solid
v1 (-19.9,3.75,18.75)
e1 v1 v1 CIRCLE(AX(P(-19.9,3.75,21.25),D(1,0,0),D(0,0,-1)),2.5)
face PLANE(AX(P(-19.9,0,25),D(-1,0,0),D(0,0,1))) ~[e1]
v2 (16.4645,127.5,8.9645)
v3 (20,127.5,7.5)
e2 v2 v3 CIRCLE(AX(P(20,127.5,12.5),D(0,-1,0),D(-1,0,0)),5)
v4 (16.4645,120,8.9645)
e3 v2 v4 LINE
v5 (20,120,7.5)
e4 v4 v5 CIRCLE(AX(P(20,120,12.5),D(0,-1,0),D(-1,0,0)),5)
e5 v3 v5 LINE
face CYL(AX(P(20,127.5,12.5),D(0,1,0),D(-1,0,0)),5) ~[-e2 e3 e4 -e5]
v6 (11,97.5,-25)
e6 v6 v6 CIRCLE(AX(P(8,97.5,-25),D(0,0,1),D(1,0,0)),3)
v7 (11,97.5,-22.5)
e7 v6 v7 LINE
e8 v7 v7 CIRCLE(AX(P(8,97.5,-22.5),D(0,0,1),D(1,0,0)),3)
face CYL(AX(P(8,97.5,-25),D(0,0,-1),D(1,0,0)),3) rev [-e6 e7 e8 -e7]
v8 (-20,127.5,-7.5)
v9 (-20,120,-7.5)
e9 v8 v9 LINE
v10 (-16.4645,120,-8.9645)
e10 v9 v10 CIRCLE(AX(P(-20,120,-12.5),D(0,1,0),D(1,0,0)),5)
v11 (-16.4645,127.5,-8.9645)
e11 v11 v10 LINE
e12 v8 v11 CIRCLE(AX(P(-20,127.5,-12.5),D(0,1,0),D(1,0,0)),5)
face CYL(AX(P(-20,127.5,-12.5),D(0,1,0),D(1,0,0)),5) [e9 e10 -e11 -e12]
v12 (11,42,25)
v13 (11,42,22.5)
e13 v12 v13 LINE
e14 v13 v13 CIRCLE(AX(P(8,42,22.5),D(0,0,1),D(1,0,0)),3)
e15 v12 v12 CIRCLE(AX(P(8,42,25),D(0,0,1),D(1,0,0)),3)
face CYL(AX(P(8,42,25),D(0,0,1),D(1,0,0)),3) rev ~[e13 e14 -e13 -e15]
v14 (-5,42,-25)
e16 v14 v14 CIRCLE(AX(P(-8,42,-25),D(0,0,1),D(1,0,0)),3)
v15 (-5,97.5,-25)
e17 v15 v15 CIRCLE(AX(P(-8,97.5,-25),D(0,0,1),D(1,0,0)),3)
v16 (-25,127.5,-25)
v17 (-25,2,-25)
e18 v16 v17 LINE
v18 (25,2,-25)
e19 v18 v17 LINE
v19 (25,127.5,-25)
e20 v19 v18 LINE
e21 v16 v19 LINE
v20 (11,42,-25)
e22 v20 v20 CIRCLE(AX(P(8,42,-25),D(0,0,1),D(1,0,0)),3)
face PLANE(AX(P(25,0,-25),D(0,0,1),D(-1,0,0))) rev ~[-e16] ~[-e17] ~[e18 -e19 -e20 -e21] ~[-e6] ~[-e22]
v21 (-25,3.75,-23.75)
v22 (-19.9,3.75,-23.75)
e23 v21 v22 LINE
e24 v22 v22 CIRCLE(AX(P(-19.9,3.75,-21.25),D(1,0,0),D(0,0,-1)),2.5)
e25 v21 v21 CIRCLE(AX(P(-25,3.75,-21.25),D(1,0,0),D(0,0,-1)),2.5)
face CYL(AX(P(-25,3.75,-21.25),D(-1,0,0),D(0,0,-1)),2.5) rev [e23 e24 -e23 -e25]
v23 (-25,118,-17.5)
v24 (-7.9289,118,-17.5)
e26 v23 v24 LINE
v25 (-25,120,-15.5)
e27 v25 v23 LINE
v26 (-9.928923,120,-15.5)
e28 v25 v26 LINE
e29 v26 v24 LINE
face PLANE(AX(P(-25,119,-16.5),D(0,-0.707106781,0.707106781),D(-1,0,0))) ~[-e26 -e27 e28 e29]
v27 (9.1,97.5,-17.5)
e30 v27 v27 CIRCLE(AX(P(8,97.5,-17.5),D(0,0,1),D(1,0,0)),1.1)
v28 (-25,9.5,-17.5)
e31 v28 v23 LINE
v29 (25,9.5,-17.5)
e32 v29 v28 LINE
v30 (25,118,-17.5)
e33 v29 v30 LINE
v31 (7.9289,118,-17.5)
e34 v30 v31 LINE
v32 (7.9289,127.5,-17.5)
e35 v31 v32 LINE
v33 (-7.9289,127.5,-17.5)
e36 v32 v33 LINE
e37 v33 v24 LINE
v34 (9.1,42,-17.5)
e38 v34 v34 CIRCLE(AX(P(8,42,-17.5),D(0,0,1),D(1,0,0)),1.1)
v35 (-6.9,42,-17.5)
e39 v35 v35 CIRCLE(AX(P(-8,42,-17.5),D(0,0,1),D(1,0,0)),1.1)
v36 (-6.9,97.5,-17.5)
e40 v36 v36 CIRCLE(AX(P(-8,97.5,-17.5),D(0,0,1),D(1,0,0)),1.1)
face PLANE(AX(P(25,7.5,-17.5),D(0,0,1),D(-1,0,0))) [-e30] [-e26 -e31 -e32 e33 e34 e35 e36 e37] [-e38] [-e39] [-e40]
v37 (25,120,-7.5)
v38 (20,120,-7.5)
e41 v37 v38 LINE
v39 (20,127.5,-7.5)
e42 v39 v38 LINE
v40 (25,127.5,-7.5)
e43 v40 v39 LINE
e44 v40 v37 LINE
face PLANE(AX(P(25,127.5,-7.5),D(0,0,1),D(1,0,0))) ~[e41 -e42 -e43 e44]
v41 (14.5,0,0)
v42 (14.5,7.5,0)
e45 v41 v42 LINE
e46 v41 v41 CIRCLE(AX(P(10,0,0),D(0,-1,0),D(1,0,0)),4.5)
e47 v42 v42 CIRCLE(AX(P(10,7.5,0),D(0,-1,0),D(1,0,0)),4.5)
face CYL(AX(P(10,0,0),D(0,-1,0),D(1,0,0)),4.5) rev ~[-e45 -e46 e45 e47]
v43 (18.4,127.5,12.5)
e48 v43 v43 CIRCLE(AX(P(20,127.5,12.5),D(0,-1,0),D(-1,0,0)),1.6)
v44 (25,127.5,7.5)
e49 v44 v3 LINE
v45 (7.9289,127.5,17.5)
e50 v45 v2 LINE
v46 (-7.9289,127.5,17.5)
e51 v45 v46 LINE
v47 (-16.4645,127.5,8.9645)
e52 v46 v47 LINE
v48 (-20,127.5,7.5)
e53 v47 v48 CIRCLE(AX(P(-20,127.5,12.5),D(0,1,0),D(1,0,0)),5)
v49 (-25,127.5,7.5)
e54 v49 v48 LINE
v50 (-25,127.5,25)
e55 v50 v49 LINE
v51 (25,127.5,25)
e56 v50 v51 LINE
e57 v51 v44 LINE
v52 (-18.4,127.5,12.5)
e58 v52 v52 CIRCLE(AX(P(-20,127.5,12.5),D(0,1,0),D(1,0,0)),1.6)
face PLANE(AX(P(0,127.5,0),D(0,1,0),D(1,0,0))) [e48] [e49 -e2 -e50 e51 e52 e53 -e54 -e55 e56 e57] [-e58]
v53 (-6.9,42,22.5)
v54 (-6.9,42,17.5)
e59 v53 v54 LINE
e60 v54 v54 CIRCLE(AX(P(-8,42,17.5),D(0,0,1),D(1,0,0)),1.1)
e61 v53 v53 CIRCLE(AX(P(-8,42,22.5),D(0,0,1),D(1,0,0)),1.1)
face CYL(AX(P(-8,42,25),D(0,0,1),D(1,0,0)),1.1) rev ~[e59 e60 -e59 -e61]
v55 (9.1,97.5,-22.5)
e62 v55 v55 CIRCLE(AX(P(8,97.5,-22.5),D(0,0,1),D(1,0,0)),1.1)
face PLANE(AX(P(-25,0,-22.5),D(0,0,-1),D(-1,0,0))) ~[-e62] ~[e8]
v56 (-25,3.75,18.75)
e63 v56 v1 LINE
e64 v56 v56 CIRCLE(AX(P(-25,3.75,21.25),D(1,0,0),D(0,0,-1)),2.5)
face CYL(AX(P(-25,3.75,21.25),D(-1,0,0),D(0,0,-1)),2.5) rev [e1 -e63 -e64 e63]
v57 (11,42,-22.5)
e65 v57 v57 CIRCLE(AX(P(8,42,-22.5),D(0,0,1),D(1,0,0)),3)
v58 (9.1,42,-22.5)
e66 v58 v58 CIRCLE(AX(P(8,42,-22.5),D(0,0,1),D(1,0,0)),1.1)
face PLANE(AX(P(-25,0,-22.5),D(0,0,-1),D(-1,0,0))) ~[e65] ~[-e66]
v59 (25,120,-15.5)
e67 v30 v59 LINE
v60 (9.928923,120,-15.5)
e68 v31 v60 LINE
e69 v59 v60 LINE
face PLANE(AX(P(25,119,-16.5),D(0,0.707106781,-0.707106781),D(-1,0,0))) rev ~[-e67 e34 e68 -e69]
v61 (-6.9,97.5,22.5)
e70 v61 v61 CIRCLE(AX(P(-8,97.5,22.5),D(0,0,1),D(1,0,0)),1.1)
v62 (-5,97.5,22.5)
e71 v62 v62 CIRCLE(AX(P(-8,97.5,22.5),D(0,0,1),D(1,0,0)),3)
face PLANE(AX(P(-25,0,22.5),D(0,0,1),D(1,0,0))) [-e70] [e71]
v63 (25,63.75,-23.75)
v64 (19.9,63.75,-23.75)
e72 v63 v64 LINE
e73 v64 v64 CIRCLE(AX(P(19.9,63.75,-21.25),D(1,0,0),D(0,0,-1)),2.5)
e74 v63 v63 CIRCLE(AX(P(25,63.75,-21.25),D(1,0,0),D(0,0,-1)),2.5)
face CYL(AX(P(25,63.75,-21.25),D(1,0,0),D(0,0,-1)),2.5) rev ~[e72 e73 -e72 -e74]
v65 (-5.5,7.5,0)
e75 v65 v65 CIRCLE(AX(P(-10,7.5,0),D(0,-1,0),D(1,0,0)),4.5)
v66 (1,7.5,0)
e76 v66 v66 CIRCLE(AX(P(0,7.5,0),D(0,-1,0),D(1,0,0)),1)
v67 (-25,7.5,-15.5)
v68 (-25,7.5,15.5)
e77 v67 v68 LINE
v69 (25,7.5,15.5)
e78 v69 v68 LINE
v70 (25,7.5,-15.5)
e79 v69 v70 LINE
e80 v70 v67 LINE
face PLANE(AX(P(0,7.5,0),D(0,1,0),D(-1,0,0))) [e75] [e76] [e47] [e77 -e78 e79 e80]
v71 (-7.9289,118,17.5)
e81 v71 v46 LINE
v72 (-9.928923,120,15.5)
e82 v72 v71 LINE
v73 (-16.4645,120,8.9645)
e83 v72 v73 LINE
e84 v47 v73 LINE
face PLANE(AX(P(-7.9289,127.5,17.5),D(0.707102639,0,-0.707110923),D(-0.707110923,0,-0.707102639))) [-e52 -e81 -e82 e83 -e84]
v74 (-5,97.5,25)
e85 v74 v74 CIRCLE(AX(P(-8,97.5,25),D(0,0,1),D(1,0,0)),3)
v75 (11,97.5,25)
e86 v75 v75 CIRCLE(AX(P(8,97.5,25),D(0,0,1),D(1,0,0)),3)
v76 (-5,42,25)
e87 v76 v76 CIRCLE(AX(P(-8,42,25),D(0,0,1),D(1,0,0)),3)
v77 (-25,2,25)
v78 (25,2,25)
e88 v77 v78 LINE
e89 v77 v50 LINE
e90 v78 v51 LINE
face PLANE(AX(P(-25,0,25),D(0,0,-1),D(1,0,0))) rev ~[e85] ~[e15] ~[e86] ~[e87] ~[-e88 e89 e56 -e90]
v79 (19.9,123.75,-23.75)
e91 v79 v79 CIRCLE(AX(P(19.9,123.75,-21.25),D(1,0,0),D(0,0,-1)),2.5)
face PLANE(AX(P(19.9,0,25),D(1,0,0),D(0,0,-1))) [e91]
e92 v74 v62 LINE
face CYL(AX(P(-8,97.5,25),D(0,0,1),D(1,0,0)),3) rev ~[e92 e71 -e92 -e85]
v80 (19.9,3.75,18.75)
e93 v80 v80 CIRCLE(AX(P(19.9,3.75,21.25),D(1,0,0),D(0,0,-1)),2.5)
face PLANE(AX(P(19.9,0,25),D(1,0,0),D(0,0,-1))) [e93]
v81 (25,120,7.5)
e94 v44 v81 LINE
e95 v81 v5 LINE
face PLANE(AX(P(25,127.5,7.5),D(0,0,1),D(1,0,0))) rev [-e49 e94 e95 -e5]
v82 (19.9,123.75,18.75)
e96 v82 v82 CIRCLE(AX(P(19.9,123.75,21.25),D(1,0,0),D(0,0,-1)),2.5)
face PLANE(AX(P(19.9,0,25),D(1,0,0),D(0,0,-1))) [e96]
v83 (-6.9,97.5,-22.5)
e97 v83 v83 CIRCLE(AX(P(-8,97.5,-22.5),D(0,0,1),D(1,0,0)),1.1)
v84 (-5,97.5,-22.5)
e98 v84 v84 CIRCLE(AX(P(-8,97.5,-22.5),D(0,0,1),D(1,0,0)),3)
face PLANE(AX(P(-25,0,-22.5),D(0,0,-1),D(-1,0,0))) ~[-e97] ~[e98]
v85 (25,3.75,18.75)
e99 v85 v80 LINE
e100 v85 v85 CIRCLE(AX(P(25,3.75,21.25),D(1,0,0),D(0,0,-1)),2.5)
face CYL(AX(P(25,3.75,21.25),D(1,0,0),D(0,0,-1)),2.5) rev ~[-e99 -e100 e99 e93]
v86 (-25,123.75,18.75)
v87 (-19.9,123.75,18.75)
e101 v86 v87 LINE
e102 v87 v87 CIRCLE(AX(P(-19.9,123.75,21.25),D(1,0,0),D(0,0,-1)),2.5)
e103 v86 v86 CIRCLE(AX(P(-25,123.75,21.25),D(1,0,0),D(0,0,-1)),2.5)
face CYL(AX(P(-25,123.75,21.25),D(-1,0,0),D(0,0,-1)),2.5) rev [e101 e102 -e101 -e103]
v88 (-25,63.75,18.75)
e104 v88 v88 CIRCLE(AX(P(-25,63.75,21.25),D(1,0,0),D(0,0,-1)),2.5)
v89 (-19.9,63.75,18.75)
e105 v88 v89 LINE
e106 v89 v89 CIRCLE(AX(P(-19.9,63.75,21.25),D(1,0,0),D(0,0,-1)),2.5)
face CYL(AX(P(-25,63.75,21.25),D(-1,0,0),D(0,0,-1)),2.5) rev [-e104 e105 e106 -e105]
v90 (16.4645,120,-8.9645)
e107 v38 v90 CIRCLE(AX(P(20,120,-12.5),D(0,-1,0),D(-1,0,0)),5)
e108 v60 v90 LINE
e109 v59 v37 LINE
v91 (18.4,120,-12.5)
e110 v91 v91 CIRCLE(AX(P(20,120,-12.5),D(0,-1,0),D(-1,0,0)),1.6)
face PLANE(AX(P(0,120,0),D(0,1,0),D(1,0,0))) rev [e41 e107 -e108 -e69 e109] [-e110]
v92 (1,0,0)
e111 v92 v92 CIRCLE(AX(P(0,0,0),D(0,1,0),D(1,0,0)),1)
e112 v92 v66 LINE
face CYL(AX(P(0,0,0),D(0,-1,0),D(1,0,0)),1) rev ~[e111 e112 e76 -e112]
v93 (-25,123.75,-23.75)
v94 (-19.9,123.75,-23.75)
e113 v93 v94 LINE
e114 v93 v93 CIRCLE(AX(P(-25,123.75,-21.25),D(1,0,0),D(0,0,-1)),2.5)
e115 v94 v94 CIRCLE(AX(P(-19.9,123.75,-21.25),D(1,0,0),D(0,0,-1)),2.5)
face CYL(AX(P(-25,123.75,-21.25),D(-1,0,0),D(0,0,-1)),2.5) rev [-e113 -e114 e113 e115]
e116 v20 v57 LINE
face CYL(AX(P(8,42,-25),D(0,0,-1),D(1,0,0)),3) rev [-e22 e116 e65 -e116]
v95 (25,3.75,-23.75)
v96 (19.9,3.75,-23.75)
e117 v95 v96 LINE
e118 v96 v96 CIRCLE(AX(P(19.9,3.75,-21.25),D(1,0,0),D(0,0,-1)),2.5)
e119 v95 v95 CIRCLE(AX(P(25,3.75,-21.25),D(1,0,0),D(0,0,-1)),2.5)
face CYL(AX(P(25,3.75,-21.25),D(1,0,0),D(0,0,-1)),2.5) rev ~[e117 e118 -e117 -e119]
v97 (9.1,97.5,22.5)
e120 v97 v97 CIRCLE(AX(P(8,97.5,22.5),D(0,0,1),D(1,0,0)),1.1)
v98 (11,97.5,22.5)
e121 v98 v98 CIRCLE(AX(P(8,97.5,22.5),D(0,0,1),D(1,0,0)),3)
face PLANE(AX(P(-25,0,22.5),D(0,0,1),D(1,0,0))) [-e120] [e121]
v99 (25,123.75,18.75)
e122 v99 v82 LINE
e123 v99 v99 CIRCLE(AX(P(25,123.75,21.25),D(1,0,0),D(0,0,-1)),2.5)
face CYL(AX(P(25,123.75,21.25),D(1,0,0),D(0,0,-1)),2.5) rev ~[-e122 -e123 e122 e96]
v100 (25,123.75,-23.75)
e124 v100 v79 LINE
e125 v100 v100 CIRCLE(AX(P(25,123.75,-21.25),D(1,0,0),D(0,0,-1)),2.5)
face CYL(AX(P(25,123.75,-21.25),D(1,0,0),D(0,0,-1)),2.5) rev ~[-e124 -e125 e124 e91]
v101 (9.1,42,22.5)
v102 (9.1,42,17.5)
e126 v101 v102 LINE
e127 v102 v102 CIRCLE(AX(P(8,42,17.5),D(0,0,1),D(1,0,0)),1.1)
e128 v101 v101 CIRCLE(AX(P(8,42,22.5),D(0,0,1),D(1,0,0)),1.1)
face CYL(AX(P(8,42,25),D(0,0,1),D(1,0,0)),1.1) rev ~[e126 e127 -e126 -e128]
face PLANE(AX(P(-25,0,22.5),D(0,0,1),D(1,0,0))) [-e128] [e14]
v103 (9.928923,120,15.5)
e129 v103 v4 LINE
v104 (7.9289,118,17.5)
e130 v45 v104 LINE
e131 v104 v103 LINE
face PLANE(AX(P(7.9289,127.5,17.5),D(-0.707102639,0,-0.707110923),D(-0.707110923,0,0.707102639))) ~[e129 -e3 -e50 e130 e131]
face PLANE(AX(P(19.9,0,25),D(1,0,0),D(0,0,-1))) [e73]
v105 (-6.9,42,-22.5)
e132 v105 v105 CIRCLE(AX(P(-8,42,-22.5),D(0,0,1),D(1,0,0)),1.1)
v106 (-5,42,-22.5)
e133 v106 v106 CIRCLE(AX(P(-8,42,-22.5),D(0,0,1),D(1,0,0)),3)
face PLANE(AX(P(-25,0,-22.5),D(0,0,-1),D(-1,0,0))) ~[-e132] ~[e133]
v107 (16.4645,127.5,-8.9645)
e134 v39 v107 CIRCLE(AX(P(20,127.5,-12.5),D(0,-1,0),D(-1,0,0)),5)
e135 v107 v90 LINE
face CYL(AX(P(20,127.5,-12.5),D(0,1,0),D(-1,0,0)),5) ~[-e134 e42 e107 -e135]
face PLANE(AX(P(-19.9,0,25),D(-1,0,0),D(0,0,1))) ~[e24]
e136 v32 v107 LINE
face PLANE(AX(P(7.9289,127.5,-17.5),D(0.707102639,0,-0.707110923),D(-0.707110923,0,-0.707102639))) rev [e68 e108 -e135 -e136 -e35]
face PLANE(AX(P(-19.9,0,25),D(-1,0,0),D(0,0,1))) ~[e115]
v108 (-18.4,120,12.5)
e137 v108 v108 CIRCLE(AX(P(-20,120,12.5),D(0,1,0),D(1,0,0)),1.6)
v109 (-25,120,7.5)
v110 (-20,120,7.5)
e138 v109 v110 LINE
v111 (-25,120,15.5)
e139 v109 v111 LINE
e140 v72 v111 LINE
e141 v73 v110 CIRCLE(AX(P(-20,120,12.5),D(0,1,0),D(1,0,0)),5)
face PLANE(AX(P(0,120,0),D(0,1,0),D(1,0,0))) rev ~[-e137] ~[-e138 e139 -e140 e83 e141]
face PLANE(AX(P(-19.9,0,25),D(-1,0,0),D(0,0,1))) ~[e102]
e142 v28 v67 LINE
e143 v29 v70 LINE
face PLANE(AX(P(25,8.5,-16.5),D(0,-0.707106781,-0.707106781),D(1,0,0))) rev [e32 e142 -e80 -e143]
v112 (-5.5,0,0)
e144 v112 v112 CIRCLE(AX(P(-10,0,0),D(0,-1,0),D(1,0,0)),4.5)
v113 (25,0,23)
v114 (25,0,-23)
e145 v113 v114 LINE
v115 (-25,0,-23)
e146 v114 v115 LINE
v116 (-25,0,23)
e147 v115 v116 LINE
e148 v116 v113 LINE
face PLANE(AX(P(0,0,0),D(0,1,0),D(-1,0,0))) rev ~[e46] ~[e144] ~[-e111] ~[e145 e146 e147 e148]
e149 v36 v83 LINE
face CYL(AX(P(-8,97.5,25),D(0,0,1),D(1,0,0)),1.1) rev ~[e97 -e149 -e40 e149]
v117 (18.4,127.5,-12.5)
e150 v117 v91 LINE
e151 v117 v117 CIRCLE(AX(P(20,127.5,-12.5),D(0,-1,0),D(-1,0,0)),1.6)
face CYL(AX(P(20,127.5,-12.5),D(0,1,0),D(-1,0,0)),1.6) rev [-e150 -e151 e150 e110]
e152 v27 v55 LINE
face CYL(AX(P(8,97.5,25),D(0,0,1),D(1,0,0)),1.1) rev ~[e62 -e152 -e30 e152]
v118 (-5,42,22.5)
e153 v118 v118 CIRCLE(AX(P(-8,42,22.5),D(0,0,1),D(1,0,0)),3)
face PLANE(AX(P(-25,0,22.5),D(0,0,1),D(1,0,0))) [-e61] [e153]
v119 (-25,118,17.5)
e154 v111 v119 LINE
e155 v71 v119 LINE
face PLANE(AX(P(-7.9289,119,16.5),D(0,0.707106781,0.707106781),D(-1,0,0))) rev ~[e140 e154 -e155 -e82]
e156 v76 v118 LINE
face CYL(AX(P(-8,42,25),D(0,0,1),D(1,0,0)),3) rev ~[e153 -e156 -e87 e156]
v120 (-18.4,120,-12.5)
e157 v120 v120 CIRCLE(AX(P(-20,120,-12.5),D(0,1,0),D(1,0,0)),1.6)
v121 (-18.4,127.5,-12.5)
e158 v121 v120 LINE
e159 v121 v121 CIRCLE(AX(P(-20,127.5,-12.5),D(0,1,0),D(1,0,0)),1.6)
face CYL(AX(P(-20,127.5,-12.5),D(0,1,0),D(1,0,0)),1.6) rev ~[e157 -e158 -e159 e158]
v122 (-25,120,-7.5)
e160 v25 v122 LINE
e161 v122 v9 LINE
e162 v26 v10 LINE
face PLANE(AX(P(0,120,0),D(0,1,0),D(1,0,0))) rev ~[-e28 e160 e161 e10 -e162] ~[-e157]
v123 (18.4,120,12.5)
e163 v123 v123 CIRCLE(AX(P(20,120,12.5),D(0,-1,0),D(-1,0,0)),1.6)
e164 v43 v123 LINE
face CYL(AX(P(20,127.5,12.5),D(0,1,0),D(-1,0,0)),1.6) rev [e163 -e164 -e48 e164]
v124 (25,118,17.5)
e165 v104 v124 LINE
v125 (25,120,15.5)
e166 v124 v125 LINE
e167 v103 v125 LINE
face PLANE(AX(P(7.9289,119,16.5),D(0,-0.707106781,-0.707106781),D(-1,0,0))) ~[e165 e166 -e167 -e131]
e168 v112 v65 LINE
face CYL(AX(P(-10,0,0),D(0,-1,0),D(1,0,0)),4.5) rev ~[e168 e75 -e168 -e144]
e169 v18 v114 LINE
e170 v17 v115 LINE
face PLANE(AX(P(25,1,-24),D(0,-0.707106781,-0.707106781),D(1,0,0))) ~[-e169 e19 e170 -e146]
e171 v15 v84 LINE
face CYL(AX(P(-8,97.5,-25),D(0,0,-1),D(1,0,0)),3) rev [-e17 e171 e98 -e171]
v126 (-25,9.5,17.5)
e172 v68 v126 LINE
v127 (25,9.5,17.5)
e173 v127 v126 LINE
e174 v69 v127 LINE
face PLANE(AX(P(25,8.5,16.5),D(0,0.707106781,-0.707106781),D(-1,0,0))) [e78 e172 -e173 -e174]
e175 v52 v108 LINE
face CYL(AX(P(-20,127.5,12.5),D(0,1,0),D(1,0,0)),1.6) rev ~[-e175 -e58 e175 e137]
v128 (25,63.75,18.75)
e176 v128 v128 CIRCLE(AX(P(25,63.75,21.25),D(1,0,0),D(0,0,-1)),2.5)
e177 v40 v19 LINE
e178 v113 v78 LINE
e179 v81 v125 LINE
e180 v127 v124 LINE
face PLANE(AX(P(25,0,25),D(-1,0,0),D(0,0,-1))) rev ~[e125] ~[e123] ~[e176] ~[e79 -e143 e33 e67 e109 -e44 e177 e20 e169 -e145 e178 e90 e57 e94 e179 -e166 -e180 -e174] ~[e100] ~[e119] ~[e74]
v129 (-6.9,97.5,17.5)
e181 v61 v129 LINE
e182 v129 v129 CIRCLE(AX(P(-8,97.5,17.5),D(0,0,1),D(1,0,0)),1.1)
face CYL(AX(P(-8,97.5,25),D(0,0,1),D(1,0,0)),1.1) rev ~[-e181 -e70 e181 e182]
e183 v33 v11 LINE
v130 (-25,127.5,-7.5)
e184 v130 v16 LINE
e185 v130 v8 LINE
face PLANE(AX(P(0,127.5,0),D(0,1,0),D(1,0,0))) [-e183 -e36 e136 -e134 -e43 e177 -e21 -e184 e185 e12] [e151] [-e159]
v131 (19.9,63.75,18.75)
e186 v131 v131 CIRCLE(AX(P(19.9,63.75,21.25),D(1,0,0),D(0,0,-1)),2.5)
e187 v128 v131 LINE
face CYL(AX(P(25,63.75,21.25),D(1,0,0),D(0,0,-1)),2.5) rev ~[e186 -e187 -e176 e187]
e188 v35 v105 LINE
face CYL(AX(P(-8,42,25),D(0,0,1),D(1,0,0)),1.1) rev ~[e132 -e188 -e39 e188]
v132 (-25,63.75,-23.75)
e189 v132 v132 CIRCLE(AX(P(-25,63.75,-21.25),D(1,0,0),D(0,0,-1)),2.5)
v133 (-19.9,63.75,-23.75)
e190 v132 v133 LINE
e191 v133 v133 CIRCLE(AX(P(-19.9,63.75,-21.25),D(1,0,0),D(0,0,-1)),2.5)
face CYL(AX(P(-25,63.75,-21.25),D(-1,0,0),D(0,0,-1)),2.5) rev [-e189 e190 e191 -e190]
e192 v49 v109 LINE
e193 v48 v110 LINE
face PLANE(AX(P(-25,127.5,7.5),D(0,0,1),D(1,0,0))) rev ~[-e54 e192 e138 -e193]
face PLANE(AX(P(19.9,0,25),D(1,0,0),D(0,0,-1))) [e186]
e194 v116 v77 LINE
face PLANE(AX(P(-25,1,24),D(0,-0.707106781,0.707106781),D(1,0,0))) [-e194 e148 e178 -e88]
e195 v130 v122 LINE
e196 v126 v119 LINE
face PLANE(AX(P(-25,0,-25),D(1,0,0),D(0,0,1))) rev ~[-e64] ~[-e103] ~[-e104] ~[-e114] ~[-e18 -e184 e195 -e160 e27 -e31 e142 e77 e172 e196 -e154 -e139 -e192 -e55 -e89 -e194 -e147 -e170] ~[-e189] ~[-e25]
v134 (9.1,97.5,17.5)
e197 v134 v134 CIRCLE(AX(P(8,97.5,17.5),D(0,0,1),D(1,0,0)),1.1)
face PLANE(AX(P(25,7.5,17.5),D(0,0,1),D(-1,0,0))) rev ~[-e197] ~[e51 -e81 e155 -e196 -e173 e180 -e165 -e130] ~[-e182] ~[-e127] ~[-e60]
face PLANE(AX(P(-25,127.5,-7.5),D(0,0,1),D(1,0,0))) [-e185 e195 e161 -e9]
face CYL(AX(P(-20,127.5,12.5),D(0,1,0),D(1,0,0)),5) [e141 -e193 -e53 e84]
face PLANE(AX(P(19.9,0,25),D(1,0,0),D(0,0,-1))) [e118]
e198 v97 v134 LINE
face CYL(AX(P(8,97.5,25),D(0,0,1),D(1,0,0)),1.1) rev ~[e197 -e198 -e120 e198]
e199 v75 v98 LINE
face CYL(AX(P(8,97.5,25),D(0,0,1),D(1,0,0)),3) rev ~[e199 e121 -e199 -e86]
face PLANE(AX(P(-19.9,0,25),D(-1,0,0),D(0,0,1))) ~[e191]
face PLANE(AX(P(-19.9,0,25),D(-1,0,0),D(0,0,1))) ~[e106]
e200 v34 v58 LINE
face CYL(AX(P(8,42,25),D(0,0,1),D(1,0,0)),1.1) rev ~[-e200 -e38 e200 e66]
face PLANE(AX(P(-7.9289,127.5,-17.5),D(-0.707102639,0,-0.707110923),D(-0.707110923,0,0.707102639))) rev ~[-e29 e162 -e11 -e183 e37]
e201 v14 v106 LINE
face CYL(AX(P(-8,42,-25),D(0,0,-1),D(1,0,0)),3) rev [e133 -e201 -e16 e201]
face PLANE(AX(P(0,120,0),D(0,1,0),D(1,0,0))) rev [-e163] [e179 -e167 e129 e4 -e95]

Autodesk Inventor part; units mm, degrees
ref_plane "YZ Plane" through (0, 0, 0) normal (1, 0, 0) x (0, 1, 0)
ref_plane "XZ Plane" through (0, 0, 0) normal (0, 1, 0) x (-1, 0, 0)
ref_plane "XY Plane" through (0, 0, 0) normal (0, 0, 1) x (1, 0, 0)
sketch "Sketch1" plane through (0, 0, 0) normal (0, 1, 0) x (-1, 0, 0)
  line L0 (25, 25) -> (-25, 25)
  line L1 (-25, 25) -> (-25, -25)
  line L2 (-25, -25) -> (25, -25)
  line L3 (25, -25) -> (25, 25)
  point P0 (0, 0)
  dimension "d0" = 50
  dimension "d1" = 50
  dimension "d2" = 25
  dimension "d3" = 25
extrude "Extrusion1" add sketch "Sketch1" along normal blind 7.5
sketch "Sketch2" plane through (0, 7.5, 0) normal (0, 1, 0) x (1, 0, 0)
  line L0 (-25, 25) -> (-25, -25) projected
  line L1 (25, -25) -> (25, 25) projected
  line L2 (-25, -25) -> (25, -25)
  line L3 (25, -25) -> (25, -17.5)
  line L4 (25, -17.5) -> (-25, -17.5)
  line L5 (-25, -17.5) -> (-25, -25)
  line L6 (-25, 25) -> (25, 25)
  line L7 (25, 25) -> (25, 17.5)
  line L8 (25, 17.5) -> (-25, 17.5)
  line L9 (-25, 17.5) -> (-25, 25)
  point P0 (0, 0)
  point P1 (-25, -17.5)
  point P2 (-25, 17.5)
  dimension "d6" = 7.5
  dimension "d7" = 7.5
  dimension "d8" = 25
extrude "Extrusion2" add sketch "Sketch2" along normal blind 120 contours L6 L1 L8 L0 | L4 L1 L2 L0
sketch "Sketch3" plane through (-25, 0, 25) normal (0, 0, 1) x (1, 0, 0)
  circle A0 centre (33, 97.5) radius 1.1
  circle A1 centre (33, 42) radius 1.1
  circle A2 centre (17, 42) radius 1.1
  circle A3 centre (17, 97.5) radius 1.1
  line L0 (50, 0) -> (50, 127.5) projected
  line L1 (0, 0) -> (0, 127.5) projected
  line L2 (0, 127.5) -> (50, 127.5) projected
  point P0 (25, 0)
  dimension "d11" = 2.2
  dimension "d12" = 2.2
  dimension "d13" = 2.2
  dimension "d14" = 2.2
  dimension "d15" = 55.5
  dimension "d17" = 55.5
  dimension "d18" = 17
  dimension "d19" = 17
  dimension "d20" = 17
  dimension "d21" = 17
  dimension "d22" = 30
  dimension "d23" = 30
extrude "Extrusion3" cut sketch "Sketch3" against normal through all
sketch "Sketch4" plane through (-25, 0, 25) normal (0, 0, 1) x (1, 0, 0)
  circle A0 centre (17, 97.5) radius 1.1 projected
  circle A1 centre (17, 97.5) radius 3
  circle A2 centre (33, 97.5) radius 1.1 projected
  circle A3 centre (33, 97.5) radius 3
  circle A4 centre (17, 42) radius 1.1 projected
  circle A5 centre (17, 42) radius 3
  circle A6 centre (33, 42) radius 1.1 projected
  circle A7 centre (33, 42) radius 3
  point P0 (25, 0)
  dimension "d26" = 6
  dimension "d27" = 6
  dimension "d28" = 6
  dimension "d29" = 6
extrude "Extrusion4" cut sketch "Sketch4" against normal blind 2.5 contours A1 | A2 | A3 | A5 | A7
sketch "Sketch5" plane through (0, 127.5, 0) normal (0, 1, 0) x (1, 0, 0)
  circle A0 centre (-20, -12.5) radius 1.6
  circle A1 centre (-20, 12.5) radius 1.6
  line L0 (-25, 17.5) -> (-25, -17.5) projected
  line L1 (-25, 17.5) -> (25, 17.5) projected
  line L2 (25, -17.5) -> (-25, -17.5) projected
  circle A2 centre (-20, -12.5) radius 5
  circle A3 centre (-20, 12.5) radius 5
  line L3 (-25, 17.5) -> (-25, 7.5)
  line L4 (-25, 7.5) -> (-20, 7.5)
  line L5 (25, 17.5) -> (-25, 17.5) projected
  line L6 (-7.9289, 17.5) -> (-16.4645, 8.9645)
  line L7 (-7.9289, 17.5) -> (9.8712, 17.5) construction
  line L8 (-25, 25) -> (-25, 17.5) projected
  line L9 (-25, 17.5) -> (-7.9289, 17.5)
  line L10 (-25, -17.5) -> (-25, -25) projected
  line L11 (-25, -17.5) -> (-25, -7.5)
  line L12 (-25, 25) -> (-25, -25) projected
  line L13 (-25, -7.5) -> (-20, -7.5)
  line L14 (-7.9289, -17.5) -> (-16.4645, -8.9645)
  line L15 (-7.9289, -17.5) -> (7.3912, -17.5) construction
  line L16 (-7.9289, -17.5) -> (-25, -17.5)
  point P0 (0, 0)
  dimension "d32" = 3.2
  dimension "d33" = 3.2
  dimension "d34" = 5
  dimension "d35" = 5
  dimension "d36" = 5
  dimension "d37" = 5
  dimension "d38" = 10
  dimension "d39" = 10
  dimension "d40" = 10
  dimension "d41" = 135
  dimension "d42" = 10
  dimension "d43" = 5
  dimension "d44" = 135
extrude "Extrusion5" add sketch "Sketch5" against normal blind 7.5
mirror "Mirror1" about plane through (0, 0, 0) normal (1, 0, 0) of "Extrusion5"
sketch "Sketch6" plane through (0, 0, 0) normal (0, -1, 0) x (1, 0, 0)
  circle A0 centre (-10, 0) radius 4.5
  circle A1 centre (10, 0) radius 4.5
  line L0 (0, 35) -> (0, -35) projected
  line L1 (25, 25) -> (25, -25) projected
  circle A2 centre (0, 0) radius 1
  point P0 (25, 0)
  dimension "Festo_Clips" = 9
  dimension "d48" = 9
  dimension "d49" = 0
  dimension "d50" = 10
  dimension "d51" = 10
  dimension "d52" = 0
  dimension "d77" = 2
extrude "Extrusion6" cut sketch "Sketch6" against normal blind 7.5
sketch "Sketch7" plane through (-25, 0, -25) normal (-1, 0, 0) x (0, 0, 1)
  circle A0 centre (3.75, 3.75) radius 1.5
  circle A1 centre (3.75, 63.75) radius 1.5
  circle A2 centre (3.75, 123.75) radius 1.5
  line L0 (0, 0) -> (0, 127.5) projected
  line L1 (0, 127.5) -> (17.5, 127.5) projected
  line L2 (0, 0) -> (50, 0) projected
  point P0 (25, 0)
  dimension "d55" = 3
  dimension "d56" = 3
  dimension "d57" = 3
  dimension "d58" = 3.75
  dimension "d59" = 3.75
  dimension "d60" = 3.75
  dimension "d61" = 3.75
  dimension "d62" = 3.75
  dimension "d63" = 63.75
extrude "Extrusion7" cut sketch "Sketch7" against normal blind 4
mirror "Mirror2" about plane through (0, 0, 0) normal (1, 0, 0) of "Extrusion7"
mirror "Mirror3" about plane through (0, 0, 0) normal (0, 0, 1) of "Extrusion7", "Mirror2"
sketch "Sketch8" plane through (25, 0, 25) normal (1, 0, 0) x (0, 0, -1)
  circle A0 centre (46.25, 3.75) radius 1.5 projected
  circle A1 centre (46.25, 3.75) radius 2.5
  circle A2 centre (3.75, 3.75) radius 1.5 projected
  circle A3 centre (3.75, 3.75) radius 2.5
  circle A4 centre (3.75, 63.75) radius 1.5 projected
  circle A5 centre (3.75, 63.75) radius 2.5
  circle A6 centre (46.25, 63.75) radius 1.5 projected
  circle A7 centre (46.25, 63.75) radius 2.5
  circle A8 centre (46.25, 123.75) radius 1.5 projected
  circle A9 centre (46.25, 123.75) radius 2.5
  circle A10 centre (3.75, 123.75) radius 1.5 projected
  circle A11 centre (3.75, 123.75) radius 2.5
  point P0 (25, 0)
  dimension "d66" = 5
  dimension "d67" = 5
  dimension "d68" = 5
  dimension "d69" = 5
  dimension "d70" = 5
  dimension "d71" = 5
extrude "Extrusion8" cut sketch "Sketch8" against normal blind 5.1 contours A0 | A1 | A2 | A3 | A4 | A5 | A6 | A7 | A8 | A9 | A10 | A11
mirror "Mirror4" about plane through (0, 0, 0) normal (1, 0, 0) of "Extrusion8"
chamfer "Chamfer1" distance 2 angle 45 8 edges at (0, 0, 25) (0, 0, -25) (0, 7.5, -17.5) (0, 7.5, 17.5) (16.4645, 120, -17.5) (16.4645, 120, 17.5) (-16.4645, 120, -17.5) (-16.4645, 120, 17.5)
mirror "Mirror5" about plane through (0, 0, 0) normal (0, 0, 1) of "Extrusion4"
equation "\"d2\" = 0.5 * d1"
equation "\"d3\" = 0.5 * d0"
equation "\"d6\" = Thickness"
equation "\"d7\" = Thickness"
equation "\"d8\" = 0.5 * d1"
equation "\"d45\" = Thickness"
equation "\"d48\" = Festo_Clips"
equation "\"d53\" = Thickness"
equation "\"d58\" = 0.5 * Thickness"
equation "\"d59\" = 0.5 * Thickness"
equation "\"d60\" = 0.5 * Thickness"
equation "\"d61\" = 0.5 * Thickness"
equation "\"d62\" = 0.5 * Thickness"
equation "\"Thickness\" = 7.5"
properties part number "Main_Cover"
